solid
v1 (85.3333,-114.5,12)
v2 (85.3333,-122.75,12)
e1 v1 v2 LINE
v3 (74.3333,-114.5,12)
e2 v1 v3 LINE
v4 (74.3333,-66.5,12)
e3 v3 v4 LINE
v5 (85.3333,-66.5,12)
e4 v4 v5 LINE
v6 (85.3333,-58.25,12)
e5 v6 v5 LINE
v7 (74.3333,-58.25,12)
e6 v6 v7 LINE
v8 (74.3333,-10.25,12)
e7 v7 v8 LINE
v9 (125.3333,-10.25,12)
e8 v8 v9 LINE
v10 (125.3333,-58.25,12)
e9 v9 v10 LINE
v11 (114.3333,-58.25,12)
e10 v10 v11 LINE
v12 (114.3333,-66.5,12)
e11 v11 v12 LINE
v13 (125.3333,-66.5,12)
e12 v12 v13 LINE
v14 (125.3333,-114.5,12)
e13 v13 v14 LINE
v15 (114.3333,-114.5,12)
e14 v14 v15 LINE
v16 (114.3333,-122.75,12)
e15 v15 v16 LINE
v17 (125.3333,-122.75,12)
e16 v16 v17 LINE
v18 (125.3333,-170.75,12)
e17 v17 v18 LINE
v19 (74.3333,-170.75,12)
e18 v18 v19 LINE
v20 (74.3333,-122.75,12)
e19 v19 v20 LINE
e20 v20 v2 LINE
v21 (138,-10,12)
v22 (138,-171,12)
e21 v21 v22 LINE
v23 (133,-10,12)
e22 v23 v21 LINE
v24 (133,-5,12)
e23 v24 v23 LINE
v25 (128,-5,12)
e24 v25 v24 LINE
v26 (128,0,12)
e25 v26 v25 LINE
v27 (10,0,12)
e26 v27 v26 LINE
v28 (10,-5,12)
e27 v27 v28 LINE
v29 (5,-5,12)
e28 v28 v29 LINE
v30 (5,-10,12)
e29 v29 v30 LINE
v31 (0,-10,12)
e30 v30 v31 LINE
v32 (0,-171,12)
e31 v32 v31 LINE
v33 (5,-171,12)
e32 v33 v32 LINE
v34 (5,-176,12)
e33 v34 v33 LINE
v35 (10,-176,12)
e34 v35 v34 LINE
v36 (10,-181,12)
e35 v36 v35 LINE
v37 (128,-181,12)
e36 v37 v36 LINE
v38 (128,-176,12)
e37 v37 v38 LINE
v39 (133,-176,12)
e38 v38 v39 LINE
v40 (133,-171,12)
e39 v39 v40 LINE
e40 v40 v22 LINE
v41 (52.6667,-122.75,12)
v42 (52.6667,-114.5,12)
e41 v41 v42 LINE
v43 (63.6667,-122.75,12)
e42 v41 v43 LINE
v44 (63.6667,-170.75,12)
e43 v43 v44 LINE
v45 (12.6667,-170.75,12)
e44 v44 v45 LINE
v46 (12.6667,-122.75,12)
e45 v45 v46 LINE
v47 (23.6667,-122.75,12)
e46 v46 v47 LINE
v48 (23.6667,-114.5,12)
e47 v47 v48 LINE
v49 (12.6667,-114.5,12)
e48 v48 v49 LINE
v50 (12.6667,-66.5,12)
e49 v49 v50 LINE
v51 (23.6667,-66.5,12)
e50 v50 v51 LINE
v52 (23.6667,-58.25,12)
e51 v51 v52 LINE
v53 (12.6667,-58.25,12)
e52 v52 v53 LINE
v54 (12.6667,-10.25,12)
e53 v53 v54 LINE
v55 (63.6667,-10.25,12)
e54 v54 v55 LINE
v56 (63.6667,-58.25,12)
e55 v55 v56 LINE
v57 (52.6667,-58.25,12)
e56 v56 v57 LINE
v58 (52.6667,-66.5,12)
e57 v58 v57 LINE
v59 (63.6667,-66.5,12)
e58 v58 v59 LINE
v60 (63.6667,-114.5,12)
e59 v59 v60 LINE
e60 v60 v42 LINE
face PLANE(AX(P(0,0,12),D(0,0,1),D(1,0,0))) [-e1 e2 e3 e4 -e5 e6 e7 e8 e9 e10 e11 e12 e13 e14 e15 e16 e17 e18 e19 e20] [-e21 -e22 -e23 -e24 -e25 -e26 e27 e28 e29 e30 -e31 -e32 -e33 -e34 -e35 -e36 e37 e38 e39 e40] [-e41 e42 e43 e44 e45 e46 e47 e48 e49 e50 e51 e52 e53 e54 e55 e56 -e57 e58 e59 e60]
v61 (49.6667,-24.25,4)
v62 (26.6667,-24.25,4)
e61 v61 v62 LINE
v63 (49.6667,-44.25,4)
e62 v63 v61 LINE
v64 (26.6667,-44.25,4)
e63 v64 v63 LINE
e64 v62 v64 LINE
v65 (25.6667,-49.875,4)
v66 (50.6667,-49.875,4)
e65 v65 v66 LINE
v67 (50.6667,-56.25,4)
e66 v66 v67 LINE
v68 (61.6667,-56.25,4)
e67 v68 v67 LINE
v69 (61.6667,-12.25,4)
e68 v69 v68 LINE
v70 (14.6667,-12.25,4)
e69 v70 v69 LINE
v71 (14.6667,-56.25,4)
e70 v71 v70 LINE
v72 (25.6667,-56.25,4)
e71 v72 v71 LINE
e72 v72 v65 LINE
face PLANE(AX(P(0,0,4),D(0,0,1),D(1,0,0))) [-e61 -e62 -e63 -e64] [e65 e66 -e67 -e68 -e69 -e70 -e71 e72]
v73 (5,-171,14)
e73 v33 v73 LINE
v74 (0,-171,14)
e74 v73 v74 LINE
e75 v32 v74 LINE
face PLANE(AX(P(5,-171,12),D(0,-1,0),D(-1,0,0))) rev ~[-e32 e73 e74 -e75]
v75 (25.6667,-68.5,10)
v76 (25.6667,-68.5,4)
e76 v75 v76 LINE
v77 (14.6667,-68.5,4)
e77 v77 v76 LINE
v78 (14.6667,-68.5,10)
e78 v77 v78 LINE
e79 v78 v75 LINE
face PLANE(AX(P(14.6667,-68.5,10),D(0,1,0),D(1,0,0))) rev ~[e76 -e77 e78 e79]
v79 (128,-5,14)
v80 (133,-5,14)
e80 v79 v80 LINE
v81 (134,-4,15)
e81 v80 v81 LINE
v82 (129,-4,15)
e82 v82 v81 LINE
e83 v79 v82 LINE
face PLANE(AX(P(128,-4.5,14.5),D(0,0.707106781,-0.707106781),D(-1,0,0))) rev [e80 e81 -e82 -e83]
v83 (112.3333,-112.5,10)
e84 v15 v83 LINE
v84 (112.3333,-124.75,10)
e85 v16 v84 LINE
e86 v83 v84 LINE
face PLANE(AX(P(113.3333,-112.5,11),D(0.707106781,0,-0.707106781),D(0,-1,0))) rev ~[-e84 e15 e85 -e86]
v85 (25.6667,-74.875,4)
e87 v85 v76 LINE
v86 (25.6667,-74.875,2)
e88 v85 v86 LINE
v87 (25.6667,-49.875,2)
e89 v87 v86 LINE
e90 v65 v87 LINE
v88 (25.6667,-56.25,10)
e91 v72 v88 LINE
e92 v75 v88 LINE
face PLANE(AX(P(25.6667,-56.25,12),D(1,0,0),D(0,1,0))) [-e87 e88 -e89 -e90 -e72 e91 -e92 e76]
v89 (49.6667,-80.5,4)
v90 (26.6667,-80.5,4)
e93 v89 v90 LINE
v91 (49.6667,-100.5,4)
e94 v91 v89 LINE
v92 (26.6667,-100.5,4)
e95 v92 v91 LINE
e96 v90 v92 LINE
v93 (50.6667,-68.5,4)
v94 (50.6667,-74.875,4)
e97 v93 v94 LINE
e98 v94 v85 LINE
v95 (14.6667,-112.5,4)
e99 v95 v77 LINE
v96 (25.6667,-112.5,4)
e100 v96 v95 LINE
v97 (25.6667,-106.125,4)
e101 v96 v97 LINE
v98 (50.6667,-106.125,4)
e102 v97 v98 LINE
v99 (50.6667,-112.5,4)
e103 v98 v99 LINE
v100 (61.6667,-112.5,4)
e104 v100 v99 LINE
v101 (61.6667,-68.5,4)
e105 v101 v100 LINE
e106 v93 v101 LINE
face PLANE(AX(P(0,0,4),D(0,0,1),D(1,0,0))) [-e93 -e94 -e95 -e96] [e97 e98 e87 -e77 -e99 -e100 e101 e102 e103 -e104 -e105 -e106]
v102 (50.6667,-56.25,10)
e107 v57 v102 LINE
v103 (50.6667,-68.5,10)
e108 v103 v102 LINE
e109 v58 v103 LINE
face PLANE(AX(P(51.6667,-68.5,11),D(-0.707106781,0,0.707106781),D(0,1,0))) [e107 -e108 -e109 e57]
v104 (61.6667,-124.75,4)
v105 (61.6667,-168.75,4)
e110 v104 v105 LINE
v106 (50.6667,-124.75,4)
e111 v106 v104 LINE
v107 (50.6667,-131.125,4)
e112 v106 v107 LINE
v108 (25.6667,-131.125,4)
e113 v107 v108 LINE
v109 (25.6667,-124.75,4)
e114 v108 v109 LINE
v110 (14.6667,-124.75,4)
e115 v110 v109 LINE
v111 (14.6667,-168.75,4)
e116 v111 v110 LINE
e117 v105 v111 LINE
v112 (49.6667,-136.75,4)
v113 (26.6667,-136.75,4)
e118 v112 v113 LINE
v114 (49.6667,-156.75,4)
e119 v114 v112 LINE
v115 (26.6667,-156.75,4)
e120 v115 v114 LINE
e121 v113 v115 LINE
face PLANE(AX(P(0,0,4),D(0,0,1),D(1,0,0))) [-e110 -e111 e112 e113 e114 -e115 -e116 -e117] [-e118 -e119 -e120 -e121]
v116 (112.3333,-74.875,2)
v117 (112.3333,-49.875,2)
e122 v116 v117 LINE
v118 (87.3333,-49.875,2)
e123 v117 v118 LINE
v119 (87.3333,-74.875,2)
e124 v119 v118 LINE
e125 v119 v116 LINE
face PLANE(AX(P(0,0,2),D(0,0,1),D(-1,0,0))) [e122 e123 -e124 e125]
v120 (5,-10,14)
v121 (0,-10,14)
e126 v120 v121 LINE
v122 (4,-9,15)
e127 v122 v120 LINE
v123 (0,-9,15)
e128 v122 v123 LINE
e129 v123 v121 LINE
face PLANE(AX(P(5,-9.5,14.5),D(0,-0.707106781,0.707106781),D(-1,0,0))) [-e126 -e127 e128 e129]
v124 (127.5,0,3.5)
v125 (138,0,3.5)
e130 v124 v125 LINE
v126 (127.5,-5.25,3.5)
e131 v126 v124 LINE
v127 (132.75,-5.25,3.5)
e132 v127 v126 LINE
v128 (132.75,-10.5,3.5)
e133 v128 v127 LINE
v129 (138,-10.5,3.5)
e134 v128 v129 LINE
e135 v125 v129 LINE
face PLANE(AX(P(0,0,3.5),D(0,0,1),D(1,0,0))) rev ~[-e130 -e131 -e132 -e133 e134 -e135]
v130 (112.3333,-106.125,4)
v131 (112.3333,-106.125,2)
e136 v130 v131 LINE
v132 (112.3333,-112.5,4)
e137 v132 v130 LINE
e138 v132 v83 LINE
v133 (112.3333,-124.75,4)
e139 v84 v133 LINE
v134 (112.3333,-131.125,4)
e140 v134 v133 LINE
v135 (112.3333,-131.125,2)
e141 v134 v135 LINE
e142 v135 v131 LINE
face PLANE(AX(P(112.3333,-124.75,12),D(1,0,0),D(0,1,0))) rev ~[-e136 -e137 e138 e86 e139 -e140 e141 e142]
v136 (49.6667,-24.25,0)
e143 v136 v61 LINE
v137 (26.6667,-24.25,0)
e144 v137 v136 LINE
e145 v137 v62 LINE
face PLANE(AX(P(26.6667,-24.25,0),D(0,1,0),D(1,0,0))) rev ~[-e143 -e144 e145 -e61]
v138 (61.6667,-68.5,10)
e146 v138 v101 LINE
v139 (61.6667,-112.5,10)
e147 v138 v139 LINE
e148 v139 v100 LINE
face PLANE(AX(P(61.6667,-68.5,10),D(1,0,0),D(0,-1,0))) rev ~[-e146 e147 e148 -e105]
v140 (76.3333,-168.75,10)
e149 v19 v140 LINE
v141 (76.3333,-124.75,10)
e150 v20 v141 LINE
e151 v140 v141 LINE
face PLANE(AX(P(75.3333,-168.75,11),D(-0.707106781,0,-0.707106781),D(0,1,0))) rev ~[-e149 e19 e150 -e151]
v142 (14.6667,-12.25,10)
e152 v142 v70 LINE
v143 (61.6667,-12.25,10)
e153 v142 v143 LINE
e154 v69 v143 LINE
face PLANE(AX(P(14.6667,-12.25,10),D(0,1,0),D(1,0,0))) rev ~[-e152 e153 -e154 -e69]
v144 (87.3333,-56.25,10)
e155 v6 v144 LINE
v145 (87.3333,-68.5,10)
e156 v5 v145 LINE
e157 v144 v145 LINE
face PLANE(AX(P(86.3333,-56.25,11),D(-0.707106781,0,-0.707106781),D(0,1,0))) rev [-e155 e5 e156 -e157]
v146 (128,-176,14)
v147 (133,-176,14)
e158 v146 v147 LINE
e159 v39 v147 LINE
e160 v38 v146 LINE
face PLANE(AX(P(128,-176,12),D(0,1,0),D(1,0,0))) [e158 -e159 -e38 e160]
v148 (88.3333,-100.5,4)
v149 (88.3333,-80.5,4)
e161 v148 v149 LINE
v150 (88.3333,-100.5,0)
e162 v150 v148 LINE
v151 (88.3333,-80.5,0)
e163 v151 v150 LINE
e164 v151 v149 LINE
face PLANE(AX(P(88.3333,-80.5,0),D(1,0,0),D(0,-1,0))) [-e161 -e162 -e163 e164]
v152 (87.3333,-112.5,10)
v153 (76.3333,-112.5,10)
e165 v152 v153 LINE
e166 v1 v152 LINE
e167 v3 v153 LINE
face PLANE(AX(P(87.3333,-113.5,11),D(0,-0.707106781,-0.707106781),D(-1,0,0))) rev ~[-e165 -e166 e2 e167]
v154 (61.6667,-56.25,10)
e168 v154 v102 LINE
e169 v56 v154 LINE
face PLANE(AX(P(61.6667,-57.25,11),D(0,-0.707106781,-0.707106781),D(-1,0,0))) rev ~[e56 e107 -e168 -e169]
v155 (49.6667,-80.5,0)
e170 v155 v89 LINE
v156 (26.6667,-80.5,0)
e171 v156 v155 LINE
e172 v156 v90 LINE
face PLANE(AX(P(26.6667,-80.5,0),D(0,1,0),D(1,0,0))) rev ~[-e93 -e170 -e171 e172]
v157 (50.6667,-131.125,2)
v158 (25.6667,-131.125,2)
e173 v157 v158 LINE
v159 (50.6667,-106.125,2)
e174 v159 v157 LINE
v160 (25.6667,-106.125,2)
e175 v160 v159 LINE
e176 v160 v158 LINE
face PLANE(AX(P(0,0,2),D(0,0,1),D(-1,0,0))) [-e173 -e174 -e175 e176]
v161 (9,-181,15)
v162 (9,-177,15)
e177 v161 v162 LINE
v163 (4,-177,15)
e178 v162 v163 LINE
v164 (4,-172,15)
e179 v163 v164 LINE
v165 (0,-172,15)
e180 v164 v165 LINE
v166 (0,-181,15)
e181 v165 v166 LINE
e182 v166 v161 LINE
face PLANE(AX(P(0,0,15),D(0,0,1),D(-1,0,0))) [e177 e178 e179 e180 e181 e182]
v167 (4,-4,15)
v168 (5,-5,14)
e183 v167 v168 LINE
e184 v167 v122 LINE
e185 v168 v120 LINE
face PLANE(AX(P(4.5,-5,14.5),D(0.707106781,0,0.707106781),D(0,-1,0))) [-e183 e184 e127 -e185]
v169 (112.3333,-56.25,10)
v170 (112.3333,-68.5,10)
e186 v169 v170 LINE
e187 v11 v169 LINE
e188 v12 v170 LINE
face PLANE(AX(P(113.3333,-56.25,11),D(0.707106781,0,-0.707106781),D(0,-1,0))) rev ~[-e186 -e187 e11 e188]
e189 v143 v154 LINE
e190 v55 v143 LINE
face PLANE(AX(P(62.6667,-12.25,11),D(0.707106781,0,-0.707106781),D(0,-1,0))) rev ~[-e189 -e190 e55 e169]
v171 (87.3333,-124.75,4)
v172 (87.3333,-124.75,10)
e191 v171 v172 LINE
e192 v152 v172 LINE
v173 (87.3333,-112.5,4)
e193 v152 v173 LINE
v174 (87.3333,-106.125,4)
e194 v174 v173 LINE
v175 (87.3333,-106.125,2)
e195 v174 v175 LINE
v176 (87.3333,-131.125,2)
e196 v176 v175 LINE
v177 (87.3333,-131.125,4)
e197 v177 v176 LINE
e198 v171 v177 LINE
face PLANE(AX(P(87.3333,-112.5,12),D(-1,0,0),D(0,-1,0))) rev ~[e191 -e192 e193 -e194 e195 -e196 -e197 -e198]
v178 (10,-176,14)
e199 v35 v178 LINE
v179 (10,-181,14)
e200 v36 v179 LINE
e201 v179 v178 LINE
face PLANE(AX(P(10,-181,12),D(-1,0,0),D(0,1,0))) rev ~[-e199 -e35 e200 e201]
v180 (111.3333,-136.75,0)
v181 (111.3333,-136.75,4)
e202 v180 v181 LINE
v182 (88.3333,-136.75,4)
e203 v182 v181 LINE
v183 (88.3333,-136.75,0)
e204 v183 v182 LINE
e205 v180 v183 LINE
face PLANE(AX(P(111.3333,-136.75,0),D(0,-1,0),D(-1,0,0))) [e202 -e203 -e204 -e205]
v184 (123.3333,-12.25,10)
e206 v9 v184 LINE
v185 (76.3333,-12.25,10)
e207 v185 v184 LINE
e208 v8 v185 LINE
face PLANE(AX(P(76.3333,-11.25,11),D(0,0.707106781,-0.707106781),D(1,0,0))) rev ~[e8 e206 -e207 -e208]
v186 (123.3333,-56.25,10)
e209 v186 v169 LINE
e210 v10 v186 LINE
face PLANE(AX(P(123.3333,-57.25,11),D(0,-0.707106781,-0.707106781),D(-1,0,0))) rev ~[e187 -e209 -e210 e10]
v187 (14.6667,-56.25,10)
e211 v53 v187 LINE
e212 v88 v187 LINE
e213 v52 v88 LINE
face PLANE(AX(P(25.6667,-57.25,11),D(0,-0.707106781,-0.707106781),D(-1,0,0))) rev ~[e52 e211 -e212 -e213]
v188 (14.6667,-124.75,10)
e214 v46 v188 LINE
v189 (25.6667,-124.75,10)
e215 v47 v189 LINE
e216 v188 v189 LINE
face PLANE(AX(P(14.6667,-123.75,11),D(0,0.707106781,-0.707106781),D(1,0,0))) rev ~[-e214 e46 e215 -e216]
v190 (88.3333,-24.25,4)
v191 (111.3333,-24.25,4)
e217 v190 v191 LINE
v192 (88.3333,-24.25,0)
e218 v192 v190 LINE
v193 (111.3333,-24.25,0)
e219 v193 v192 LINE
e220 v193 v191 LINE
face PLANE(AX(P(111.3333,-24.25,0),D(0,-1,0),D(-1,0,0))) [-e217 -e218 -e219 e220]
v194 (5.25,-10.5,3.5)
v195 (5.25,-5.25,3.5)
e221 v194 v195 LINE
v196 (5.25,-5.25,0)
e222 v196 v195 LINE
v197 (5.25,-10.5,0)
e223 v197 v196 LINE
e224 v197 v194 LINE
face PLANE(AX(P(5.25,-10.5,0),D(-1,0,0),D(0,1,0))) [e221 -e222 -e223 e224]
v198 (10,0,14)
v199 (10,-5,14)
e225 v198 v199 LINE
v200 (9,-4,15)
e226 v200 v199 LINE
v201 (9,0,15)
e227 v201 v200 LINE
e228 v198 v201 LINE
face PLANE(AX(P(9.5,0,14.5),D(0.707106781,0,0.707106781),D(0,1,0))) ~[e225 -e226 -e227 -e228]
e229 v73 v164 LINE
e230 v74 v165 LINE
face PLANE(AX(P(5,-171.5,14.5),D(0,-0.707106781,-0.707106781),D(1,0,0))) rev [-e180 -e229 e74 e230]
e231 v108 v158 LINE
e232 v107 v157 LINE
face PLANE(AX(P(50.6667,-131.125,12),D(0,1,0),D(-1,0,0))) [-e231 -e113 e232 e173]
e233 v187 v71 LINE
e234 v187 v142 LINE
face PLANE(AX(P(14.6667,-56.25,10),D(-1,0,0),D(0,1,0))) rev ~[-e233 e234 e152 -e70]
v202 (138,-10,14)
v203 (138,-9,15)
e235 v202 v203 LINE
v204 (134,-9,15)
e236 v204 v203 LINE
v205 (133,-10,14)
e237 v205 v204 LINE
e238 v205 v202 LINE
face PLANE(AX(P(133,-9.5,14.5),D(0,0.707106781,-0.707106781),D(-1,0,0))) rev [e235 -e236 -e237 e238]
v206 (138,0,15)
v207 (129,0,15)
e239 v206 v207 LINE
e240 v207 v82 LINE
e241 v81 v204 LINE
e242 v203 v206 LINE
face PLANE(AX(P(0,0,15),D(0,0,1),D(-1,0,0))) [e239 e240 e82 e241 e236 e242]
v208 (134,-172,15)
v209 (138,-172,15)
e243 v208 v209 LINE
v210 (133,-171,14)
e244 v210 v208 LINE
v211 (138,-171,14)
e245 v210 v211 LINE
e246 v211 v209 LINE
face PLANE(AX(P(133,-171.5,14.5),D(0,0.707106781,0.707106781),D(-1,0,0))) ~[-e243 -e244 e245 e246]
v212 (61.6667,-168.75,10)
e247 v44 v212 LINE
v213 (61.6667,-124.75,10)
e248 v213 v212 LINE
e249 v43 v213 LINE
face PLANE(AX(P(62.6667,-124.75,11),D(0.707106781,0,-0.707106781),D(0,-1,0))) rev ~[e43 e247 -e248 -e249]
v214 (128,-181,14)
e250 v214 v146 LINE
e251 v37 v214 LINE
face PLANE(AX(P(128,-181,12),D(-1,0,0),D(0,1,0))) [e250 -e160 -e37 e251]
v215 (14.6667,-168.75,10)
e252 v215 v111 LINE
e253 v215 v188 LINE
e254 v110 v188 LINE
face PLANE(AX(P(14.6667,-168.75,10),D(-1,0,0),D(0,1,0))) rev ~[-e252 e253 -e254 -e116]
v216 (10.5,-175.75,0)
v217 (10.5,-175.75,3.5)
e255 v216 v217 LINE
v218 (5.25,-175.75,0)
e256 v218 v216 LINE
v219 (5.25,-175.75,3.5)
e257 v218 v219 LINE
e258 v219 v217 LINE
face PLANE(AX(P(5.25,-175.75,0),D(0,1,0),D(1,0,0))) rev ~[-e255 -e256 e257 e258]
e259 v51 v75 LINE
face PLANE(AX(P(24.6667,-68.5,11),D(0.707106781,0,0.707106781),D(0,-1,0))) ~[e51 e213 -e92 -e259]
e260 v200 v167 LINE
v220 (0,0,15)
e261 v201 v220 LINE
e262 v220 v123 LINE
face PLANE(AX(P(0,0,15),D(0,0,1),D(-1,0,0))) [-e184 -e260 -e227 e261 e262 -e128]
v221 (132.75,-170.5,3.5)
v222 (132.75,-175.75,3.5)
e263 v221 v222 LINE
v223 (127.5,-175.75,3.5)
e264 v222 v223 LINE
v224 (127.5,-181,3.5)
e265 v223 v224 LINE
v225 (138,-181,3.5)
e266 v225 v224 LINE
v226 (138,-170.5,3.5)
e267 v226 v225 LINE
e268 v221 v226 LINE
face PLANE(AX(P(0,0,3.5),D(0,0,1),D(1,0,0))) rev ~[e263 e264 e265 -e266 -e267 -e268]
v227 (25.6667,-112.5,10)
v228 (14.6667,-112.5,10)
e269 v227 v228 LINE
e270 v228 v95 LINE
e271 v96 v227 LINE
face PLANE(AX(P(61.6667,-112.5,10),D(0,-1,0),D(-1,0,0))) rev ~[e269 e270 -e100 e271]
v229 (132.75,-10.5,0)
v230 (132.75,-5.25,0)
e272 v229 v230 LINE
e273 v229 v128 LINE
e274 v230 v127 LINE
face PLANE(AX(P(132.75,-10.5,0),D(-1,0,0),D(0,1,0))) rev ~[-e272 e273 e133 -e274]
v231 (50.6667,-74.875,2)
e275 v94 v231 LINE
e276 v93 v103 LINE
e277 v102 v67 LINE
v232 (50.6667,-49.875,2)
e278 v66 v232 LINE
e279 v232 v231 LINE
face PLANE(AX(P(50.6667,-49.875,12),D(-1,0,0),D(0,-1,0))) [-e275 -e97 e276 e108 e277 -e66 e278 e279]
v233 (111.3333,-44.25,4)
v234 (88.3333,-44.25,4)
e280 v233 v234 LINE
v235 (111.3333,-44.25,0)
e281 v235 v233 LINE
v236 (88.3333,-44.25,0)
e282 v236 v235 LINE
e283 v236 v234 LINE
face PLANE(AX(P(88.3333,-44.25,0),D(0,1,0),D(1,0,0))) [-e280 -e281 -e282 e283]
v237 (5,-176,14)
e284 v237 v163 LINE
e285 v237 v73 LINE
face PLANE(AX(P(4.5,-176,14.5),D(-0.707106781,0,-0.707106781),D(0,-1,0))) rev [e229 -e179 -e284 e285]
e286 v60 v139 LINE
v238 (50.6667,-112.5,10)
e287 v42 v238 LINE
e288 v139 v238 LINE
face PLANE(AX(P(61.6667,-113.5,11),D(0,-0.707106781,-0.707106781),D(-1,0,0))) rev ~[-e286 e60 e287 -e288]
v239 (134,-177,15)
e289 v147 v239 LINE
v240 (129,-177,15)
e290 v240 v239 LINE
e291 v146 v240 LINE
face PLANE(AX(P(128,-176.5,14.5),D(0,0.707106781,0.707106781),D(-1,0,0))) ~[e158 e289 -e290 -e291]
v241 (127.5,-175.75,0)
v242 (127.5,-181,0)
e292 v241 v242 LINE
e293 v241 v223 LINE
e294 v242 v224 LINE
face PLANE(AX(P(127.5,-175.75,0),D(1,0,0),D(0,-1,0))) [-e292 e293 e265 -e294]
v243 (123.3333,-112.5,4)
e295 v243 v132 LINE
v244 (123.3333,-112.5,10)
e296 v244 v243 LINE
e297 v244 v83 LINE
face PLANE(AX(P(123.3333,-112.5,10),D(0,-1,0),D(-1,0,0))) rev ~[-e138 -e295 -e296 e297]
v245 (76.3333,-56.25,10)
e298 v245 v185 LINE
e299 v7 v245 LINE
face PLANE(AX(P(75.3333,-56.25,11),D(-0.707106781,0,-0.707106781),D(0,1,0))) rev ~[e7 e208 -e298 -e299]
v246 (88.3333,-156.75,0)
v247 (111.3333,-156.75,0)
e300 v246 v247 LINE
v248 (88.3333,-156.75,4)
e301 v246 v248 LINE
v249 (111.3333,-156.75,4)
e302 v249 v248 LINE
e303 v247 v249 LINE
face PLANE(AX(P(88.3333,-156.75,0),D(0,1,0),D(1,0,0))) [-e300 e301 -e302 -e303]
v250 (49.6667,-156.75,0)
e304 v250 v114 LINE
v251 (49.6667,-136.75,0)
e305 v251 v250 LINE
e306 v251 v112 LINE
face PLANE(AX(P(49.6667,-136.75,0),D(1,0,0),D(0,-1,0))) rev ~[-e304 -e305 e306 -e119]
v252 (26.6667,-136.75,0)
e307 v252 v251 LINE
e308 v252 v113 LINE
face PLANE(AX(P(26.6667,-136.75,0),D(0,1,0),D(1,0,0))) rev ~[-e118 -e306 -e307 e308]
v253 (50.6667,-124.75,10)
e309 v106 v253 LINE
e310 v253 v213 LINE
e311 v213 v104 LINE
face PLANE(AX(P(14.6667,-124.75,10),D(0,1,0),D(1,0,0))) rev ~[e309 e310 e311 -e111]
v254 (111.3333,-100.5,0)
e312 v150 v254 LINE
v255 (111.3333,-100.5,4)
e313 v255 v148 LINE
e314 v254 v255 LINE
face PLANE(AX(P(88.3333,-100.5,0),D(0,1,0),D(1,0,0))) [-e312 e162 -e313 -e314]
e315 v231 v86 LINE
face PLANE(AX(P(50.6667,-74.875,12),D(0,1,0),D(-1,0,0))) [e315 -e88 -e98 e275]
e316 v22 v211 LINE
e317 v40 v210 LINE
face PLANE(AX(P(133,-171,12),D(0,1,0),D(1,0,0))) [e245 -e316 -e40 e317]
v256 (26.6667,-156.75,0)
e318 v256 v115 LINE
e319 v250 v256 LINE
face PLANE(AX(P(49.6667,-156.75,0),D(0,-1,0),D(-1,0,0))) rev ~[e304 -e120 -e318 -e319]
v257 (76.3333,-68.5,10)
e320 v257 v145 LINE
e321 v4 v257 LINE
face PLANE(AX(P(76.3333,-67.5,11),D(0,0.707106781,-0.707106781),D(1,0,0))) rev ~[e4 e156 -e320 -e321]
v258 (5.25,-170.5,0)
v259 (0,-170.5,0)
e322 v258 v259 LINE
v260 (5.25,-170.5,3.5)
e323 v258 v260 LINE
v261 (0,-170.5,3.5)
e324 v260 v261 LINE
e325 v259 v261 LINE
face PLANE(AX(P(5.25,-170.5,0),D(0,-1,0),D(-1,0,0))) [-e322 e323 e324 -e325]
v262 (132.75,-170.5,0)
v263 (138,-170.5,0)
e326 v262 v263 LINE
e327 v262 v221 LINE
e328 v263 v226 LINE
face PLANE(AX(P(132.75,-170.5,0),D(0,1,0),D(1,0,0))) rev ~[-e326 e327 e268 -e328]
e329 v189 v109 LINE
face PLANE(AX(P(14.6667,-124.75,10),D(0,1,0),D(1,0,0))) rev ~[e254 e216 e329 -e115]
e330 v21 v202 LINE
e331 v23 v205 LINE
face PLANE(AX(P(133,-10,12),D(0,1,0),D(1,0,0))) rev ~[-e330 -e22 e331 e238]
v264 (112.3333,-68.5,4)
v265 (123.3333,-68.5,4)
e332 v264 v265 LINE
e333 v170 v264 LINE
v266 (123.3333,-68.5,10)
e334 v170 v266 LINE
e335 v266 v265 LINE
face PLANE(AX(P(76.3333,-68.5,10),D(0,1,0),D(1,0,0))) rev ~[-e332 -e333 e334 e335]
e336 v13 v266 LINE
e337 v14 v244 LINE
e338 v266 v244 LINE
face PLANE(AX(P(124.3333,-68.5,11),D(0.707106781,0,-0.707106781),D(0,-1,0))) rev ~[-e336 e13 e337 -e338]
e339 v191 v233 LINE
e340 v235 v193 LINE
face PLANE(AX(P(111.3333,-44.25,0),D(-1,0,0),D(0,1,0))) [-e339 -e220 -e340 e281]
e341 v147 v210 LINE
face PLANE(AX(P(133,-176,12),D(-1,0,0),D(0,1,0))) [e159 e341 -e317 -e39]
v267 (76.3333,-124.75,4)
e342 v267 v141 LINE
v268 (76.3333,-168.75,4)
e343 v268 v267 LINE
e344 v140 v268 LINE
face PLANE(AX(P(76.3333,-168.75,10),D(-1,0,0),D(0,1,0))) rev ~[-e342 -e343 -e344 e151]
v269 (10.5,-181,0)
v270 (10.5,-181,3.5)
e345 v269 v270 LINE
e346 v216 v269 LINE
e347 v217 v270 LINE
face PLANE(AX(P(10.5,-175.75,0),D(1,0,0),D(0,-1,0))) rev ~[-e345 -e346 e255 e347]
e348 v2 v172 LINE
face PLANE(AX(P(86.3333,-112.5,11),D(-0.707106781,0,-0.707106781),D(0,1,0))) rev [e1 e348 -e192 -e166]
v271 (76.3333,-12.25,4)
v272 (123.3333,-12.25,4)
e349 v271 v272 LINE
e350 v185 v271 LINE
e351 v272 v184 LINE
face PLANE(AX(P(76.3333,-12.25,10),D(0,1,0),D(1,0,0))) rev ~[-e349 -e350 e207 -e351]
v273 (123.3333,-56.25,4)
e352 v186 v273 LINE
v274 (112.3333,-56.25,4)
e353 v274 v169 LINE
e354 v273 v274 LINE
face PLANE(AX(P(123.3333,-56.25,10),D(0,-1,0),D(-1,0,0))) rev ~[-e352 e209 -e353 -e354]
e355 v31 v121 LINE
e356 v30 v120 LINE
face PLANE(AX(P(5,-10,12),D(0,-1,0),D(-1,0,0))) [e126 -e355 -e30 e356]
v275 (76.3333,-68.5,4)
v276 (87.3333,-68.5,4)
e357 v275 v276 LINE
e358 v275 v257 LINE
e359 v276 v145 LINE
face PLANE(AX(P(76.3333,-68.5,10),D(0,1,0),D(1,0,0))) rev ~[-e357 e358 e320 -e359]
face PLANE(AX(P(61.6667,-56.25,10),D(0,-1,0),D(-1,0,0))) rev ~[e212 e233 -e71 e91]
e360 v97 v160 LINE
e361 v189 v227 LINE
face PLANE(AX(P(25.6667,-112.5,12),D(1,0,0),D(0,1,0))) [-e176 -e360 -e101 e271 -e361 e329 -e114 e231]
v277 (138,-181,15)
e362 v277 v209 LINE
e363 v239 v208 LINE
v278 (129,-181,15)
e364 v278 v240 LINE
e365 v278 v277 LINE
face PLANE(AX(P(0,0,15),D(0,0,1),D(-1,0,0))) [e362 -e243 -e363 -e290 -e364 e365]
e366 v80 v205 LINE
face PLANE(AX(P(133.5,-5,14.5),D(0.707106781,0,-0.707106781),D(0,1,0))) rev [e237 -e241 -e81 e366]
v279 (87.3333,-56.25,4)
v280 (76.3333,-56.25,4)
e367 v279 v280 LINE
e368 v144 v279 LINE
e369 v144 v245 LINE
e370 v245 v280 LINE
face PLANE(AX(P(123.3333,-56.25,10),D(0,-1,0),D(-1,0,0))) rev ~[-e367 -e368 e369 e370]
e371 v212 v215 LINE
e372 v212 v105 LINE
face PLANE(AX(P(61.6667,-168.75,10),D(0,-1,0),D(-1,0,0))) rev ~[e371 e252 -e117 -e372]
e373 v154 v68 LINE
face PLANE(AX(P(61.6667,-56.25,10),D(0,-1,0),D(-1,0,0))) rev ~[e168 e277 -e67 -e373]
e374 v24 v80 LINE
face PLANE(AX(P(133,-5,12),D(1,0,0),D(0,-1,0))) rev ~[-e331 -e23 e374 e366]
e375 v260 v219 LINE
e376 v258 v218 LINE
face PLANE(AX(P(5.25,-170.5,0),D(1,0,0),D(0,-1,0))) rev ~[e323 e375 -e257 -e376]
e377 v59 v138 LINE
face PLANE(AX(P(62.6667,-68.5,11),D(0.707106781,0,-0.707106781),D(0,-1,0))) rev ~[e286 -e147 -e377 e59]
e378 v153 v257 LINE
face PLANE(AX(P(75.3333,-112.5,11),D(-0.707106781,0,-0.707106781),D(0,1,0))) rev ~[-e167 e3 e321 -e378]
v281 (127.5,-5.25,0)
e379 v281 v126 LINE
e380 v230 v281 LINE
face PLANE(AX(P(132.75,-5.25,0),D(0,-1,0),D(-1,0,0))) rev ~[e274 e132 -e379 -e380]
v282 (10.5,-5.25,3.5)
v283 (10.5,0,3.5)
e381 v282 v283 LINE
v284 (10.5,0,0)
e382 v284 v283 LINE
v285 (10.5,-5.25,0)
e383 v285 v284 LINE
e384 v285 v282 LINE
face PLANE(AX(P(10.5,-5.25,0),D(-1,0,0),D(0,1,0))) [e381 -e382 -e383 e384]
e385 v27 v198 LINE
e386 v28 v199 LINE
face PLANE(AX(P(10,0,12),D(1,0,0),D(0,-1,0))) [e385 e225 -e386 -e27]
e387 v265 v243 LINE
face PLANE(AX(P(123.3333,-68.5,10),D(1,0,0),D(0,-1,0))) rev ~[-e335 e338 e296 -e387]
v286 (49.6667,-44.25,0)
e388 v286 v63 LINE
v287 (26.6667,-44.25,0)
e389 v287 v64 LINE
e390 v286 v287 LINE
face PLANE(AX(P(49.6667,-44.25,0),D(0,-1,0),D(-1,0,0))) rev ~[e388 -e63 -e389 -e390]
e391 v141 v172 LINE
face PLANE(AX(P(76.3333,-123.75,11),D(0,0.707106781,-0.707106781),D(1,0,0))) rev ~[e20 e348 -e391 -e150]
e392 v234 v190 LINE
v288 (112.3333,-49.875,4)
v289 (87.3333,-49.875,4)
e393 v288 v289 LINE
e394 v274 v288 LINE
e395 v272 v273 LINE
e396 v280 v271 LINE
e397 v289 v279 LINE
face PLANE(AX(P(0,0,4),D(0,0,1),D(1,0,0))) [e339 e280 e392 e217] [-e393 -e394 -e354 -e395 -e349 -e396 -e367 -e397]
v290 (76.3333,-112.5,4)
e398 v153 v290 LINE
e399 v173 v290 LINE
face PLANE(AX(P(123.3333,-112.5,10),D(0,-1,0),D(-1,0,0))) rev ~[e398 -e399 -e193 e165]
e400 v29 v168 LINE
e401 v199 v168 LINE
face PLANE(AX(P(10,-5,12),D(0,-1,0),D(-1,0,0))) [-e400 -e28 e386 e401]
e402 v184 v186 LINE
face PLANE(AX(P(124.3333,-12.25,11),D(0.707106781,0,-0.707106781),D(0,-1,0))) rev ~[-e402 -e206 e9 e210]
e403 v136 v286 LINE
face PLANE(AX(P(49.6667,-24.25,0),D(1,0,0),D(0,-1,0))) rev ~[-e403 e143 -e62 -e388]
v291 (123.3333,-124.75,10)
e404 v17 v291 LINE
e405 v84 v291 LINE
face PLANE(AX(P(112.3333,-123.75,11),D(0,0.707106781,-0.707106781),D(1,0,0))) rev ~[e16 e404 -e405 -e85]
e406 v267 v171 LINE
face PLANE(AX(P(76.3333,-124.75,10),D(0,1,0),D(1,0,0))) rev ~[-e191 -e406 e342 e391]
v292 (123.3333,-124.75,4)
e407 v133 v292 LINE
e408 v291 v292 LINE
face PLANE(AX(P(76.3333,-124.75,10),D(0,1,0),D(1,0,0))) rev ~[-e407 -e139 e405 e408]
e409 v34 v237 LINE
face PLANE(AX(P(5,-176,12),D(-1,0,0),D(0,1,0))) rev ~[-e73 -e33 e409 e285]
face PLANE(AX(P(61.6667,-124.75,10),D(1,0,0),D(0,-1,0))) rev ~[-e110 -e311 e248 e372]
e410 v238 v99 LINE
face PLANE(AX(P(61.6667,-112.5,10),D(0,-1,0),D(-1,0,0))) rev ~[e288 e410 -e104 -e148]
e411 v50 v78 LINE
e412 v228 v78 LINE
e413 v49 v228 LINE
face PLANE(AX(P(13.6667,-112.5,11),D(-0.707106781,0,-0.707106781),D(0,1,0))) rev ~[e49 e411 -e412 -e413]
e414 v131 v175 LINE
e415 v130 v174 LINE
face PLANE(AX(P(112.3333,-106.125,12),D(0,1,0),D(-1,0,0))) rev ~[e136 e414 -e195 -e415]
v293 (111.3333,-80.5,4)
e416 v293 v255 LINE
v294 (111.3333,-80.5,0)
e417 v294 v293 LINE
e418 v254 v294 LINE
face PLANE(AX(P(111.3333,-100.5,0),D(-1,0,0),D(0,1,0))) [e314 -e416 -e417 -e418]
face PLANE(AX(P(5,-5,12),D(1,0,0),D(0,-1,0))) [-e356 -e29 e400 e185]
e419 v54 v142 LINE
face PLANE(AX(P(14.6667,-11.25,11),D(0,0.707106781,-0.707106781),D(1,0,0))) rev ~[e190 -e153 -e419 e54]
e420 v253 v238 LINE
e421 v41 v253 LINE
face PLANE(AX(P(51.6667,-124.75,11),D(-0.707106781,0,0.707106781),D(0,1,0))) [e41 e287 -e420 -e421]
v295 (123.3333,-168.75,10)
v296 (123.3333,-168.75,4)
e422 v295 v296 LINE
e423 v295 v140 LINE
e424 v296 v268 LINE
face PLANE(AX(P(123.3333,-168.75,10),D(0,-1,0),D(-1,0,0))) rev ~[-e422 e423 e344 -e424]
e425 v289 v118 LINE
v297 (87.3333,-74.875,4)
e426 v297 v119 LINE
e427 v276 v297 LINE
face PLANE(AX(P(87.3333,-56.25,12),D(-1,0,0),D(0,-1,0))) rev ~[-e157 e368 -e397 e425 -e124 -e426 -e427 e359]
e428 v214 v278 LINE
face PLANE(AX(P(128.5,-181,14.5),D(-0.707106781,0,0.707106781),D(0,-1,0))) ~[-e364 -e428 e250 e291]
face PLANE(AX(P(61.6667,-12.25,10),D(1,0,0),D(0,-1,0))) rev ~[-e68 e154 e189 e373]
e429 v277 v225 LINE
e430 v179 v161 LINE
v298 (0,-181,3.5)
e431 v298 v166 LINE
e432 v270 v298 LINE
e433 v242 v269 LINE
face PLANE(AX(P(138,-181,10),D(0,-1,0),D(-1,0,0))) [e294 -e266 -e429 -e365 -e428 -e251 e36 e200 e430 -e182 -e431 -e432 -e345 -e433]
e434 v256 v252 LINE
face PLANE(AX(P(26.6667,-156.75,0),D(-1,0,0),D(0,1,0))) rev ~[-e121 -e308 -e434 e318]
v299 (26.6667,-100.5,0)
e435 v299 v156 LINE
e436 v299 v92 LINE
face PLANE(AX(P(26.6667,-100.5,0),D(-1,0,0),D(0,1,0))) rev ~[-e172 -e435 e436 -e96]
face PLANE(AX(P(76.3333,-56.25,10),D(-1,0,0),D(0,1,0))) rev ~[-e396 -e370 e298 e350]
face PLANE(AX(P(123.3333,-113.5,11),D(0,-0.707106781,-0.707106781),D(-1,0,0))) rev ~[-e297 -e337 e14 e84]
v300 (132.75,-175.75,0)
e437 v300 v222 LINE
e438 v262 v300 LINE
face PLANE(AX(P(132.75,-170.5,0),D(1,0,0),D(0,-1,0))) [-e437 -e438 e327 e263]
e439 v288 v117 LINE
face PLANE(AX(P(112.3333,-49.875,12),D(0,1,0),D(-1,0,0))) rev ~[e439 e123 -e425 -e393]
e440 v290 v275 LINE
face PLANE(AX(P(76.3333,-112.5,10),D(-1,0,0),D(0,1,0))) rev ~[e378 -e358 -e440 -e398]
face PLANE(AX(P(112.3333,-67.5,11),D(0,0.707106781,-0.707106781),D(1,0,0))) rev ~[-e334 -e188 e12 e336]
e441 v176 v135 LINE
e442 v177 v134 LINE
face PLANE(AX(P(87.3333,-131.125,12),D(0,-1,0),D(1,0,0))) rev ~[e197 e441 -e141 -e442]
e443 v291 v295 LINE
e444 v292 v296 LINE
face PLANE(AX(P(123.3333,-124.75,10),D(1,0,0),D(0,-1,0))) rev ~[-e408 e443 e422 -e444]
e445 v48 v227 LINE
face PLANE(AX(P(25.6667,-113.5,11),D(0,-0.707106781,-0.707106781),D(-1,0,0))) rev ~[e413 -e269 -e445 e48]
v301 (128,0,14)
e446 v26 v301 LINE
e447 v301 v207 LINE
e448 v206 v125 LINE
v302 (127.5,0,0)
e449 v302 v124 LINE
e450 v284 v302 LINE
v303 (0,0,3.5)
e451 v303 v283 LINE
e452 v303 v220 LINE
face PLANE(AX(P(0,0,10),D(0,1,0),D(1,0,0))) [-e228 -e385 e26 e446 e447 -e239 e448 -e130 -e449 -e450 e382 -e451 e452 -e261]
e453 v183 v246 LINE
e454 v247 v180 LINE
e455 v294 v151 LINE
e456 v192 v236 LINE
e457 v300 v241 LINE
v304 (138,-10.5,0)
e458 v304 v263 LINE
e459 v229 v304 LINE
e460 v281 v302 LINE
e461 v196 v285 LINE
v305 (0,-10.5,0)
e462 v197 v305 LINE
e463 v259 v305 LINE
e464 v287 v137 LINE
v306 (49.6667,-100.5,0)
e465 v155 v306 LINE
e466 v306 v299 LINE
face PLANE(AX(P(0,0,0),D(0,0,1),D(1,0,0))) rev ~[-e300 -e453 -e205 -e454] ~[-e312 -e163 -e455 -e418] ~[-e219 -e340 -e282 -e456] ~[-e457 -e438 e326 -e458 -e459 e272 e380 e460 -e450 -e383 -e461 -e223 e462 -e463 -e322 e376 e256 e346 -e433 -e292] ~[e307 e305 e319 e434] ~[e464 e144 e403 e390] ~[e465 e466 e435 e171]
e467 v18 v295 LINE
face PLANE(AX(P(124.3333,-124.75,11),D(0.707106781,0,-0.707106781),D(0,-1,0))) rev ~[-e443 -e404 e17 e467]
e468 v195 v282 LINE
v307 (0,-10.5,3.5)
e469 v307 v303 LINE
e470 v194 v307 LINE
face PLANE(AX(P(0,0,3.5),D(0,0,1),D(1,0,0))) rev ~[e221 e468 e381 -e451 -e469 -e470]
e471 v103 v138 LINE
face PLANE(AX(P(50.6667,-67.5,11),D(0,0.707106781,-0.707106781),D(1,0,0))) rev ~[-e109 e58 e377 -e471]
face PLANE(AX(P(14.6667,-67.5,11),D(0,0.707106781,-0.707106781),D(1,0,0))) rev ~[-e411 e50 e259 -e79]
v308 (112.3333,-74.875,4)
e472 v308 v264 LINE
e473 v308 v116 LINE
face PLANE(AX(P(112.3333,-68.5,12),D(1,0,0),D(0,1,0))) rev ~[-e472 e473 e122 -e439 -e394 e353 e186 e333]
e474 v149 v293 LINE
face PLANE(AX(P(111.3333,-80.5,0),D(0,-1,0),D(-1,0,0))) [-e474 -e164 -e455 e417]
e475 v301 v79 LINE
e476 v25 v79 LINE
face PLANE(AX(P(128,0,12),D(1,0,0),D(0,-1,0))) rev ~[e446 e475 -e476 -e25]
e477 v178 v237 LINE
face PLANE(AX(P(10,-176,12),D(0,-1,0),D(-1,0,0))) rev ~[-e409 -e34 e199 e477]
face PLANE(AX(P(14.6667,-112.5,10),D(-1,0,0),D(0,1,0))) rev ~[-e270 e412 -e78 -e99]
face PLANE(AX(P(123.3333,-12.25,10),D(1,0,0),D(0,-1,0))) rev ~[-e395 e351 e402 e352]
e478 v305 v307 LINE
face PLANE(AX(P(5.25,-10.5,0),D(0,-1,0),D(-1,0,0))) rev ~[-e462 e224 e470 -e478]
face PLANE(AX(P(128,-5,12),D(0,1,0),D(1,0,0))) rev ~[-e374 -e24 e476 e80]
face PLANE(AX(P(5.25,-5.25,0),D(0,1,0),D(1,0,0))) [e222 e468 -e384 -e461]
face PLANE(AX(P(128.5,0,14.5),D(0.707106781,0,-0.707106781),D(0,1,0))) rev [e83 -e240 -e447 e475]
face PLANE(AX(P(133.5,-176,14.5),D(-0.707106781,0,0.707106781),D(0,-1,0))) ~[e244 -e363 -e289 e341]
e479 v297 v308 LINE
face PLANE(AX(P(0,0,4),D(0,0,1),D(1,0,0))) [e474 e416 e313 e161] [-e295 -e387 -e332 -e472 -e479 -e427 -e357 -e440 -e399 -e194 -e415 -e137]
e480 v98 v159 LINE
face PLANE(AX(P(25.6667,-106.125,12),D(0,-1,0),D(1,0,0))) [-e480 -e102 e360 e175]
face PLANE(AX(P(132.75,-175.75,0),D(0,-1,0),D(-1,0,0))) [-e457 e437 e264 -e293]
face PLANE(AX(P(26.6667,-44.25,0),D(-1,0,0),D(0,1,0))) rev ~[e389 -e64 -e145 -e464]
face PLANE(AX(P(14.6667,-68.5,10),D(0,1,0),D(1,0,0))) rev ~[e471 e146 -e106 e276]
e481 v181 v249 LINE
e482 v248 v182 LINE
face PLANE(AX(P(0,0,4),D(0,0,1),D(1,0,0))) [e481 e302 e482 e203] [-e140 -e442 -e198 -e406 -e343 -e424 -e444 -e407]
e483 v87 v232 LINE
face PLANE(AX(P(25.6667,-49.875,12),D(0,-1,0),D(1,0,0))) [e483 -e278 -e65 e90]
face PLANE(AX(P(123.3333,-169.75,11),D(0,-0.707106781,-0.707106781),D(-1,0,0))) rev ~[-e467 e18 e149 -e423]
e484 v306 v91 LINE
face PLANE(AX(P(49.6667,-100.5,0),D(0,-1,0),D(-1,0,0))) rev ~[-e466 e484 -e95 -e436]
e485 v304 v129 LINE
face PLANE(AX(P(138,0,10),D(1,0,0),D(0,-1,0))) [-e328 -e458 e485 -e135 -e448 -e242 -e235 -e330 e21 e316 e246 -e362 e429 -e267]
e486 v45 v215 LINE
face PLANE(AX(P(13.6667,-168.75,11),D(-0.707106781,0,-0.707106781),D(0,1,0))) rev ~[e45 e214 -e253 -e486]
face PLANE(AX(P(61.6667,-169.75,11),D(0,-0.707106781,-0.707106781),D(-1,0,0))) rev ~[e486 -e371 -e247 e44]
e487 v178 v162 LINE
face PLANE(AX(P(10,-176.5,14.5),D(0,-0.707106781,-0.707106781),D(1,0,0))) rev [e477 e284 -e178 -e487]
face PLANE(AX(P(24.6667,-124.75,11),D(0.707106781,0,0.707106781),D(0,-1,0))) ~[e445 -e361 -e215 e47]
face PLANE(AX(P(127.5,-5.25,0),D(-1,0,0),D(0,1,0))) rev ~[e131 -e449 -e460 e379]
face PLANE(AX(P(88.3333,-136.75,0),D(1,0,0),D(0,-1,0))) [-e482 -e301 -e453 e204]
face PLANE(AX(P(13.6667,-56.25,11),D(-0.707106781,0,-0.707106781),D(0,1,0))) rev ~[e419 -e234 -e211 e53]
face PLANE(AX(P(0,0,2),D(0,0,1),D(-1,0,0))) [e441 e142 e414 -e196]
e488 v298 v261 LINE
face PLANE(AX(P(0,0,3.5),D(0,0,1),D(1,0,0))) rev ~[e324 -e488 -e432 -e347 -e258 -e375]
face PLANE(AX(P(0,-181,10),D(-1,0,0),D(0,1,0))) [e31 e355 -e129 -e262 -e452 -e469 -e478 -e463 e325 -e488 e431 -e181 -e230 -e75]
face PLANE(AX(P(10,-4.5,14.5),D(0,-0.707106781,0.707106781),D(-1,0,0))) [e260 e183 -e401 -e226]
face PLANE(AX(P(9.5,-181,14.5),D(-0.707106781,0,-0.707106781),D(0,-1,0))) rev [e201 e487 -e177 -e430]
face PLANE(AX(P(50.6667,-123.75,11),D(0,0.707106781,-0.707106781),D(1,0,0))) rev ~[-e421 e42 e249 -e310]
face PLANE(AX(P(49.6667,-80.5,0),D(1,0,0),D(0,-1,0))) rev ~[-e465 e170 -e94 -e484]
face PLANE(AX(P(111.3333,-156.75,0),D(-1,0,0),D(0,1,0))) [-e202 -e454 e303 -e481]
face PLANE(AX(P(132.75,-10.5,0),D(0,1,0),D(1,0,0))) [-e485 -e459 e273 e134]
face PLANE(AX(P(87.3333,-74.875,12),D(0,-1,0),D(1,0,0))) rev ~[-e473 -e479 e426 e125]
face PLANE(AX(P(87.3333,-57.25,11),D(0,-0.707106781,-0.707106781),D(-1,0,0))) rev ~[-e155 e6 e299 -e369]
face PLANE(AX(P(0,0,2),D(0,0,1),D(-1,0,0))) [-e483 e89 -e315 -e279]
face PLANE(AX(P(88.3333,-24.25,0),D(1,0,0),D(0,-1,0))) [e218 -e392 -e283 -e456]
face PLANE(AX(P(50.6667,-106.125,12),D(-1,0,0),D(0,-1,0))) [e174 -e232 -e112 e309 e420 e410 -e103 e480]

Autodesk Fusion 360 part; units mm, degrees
sketch "Esquisse1" plane through (0, 0, 0) normal (0, 0, 1) x (1, 0, 0)
  line L0 (0, 0) -> (138, 0)
  line L1 (138, 0) -> (138, -181)
  line L2 (138, -181) -> (0, -181)
  line L3 (0, -181) -> (0, 0)
  line L4 (61.6667, -12.25) -> (61.6667, -56.25)
  line L5 (61.6667, -56.25) -> (14.6667, -56.25)
  line L6 (14.6667, -56.25) -> (14.6667, -12.25)
  line L7 (14.6667, -12.25) -> (61.6667, -12.25)
  line L8 (123.3333, -12.25) -> (123.3333, -56.25)
  line L9 (76.3333, -56.25) -> (76.3333, -12.25)
  line L10 (76.3333, -12.25) -> (123.3333, -12.25)
  line L11 (123.3333, -56.25) -> (76.3333, -56.25)
  line L12 (14.6667, -68.5) -> (61.6667, -68.5)
  line L13 (14.6667, -112.5) -> (14.6667, -68.5)
  line L14 (61.6667, -112.5) -> (14.6667, -112.5)
  line L15 (61.6667, -68.5) -> (61.6667, -112.5)
  line L16 (76.3333, -68.5) -> (123.3333, -68.5)
  line L17 (123.3333, -68.5) -> (123.3333, -112.5)
  line L18 (76.3333, -112.5) -> (76.3333, -68.5)
  line L19 (123.3333, -112.5) -> (76.3333, -112.5)
  line L20 (14.6667, -124.75) -> (61.6667, -124.75)
  line L21 (14.6667, -168.75) -> (14.6667, -124.75)
  line L22 (61.6667, -168.75) -> (14.6667, -168.75)
  line L23 (61.6667, -124.75) -> (61.6667, -168.75)
  line L24 (76.3333, -124.75) -> (123.3333, -124.75)
  line L25 (123.3333, -124.75) -> (123.3333, -168.75)
  line L26 (76.3333, -168.75) -> (76.3333, -124.75)
  line L27 (123.3333, -168.75) -> (76.3333, -168.75)
  dimension "d1" = 138
  dimension "d2" = 181
  dimension "d3" = 44
  dimension "d4" = 47
  dimension "d5" = 44
  dimension "d6" = 47
  dimension "d7" = 12.25
  dimension "d8" = 14.6667
  dimension "d9" = 12.25
  dimension "d10" = 14.6667
  dimension "d11" = 44
  dimension "d12" = 47
  dimension "d13" = 44
  dimension "d14" = 47
  dimension "d15" = 44
  dimension "d16" = 47
  dimension "d17" = 44
  dimension "d18" = 47
  dimension "d19" = 14.6667
  dimension "d20" = 14.6667
  dimension "d21" = 14.6667
  dimension "d22" = 14.6667
  dimension "d23" = 12.25
  dimension "d24" = 12.25
  dimension "d25" = 12.25
  dimension "d26" = 12.25
extrude "Extrusion1" add sketch "Esquisse1" along normal blind 4 contours L4 L5 L6 L7 | L8 L9 L10 L11 | L12 L13 L14 L15 | L16 L17 L18 L19 | L20 L21 L22 L23 | L24 L25 L26 L27 makes body 1 at (46, -97.8333, 0) makes body 2 at (46, -26.9167, 0) makes body 3 at (30.3333, -154.0833, 0) makes body 4 at (107.6667, -97.8333, 0) makes body 5 at (107.6667, -41.5833, 0) makes body 6 at (107.6667, -154.0833, 0)
extrude "Extrusion2" add sketch "Esquisse1" along normal blind 10 bodies 1 2 3 4 5 6
sketch "Esquisse2" plane through (0, 0, 0) normal (0, 0, 1) x (1, 0, 0)
  line L0 (0, 0) -> (138, 0)
  line L1 (138, -181) -> (0, -181)
  line L2 (0, -181) -> (0, 0)
  line L3 (138, 0) -> (138, -181)
  line L4 (14.6667, -12.25) -> (61.6667, -12.25)
  line L5 (61.6667, -56.25) -> (14.6667, -56.25)
  line L6 (14.6667, -56.25) -> (14.6667, -12.25)
  line L7 (61.6667, -12.25) -> (61.6667, -56.25)
  line L8 (26.6667, -24.25) -> (49.6667, -24.25)
  line L9 (49.6667, -24.25) -> (49.6667, -44.25)
  line L10 (49.6667, -44.25) -> (26.6667, -44.25)
  line L11 (26.6667, -44.25) -> (26.6667, -24.25)
  line L12 (69, 0) -> (69, -181)
  line L13 (26.6667, -80.5) -> (49.6667, -80.5)
  line L14 (49.6667, -80.5) -> (49.6667, -100.5)
  line L15 (49.6667, -100.5) -> (26.6667, -100.5)
  line L16 (26.6667, -100.5) -> (26.6667, -80.5)
  line L17 (26.6667, -136.75) -> (49.6667, -136.75)
  line L18 (49.6667, -136.75) -> (49.6667, -156.75)
  line L19 (49.6667, -156.75) -> (26.6667, -156.75)
  line L20 (26.6667, -156.75) -> (26.6667, -136.75)
  line L21 (14.6667, -68.5) -> (61.6667, -68.5)
  line L22 (14.6667, -112.5) -> (14.6667, -68.5)
  line L23 (61.6667, -112.5) -> (14.6667, -112.5)
  line L24 (61.6667, -68.5) -> (61.6667, -112.5)
  line L25 (14.6667, -124.75) -> (61.6667, -124.75)
  line L26 (14.6667, -168.75) -> (14.6667, -124.75)
  line L27 (61.6667, -168.75) -> (14.6667, -168.75)
  line L28 (61.6667, -124.75) -> (61.6667, -168.75)
  line L29 (111.3333, -24.25) -> (88.3333, -24.25)
  line L30 (111.3333, -44.25) -> (111.3333, -24.25)
  line L31 (88.3333, -44.25) -> (111.3333, -44.25)
  line L32 (88.3333, -24.25) -> (88.3333, -44.25)
  line L33 (111.3333, -80.5) -> (88.3333, -80.5)
  line L34 (111.3333, -100.5) -> (111.3333, -80.5)
  line L35 (88.3333, -100.5) -> (111.3333, -100.5)
  line L36 (88.3333, -80.5) -> (88.3333, -100.5)
  line L37 (111.3333, -136.75) -> (88.3333, -136.75)
  line L38 (111.3333, -156.75) -> (111.3333, -136.75)
  line L39 (88.3333, -156.75) -> (111.3333, -156.75)
  line L40 (88.3333, -136.75) -> (88.3333, -156.75)
  dimension "d37" = 12
  dimension "d38" = 12
  dimension "d39" = 12
  dimension "d40" = 12
  dimension "d41" = 12
  dimension "d42" = 12
  dimension "d43" = 12
  dimension "d44" = 12
  dimension "d45" = 12
  dimension "d46" = 12
  dimension "d47" = 12
  dimension "d48" = 12
extrude "Extrusion3" add 1 faces at (4.8889, -97.8333, 10) along direction (0, 0, 1) blind 2 on bodies 1 bodies 1
extrude "Extrusion4" cut sketch "Esquisse2" along normal blind 5 contours L8 L9 L10 L11 bodies 1
extrude "Extrusion5" cut sketch "Esquisse2" along normal blind 5 contours L13 L14 L15 L16 | L17 L18 L19 L20 | L29 L30 L31 L32 | L33 L34 L35 L36 | L37 L38 L39 L40 bodies 1
sketch "Esquisse3" plane through (0, 0, 0) normal (0, 0, 1) x (1, 0, 0)
  line L0 (5.25, -5.25) -> (10.5, -5.25)
  line L1 (5.25, -10.5) -> (0, -10.5)
  line L2 (10.5, -5.25) -> (10.5, 0)
  line L3 (0.1008, 0) -> (10.5, 0)
  line L4 (5.25, -10.5) -> (5.25, -5.25)
  line L5 (0, -0.1279) -> (0, -10.5)
  line L6 (0, 0) -> (0, -181)
  line L7 (0, 0) -> (138, 0)
  line L8 (69, -0.1066) -> (69, -181)
  line L9 (0, -181) -> (0, 0)
  line L10 (138, 0) -> (138, -181)
  line L11 (0, -90.5) -> (138, -90.5)
  line L12 (138, -181) -> (0, -181)
  line L13 (127.5, -5.25) -> (127.5, 0)
  line L14 (137.8992, 0) -> (127.5, 0)
  line L15 (138, -0.1279) -> (138, -10.5)
  line L16 (132.75, -10.5) -> (138, -10.5)
  line L17 (132.75, -10.5) -> (132.75, -5.25)
  line L18 (132.75, -5.25) -> (127.5, -5.25)
  line L19 (10.5, -175.75) -> (10.5, -181)
  line L20 (0.1008, -181) -> (10.5, -181)
  line L21 (0, -180.8721) -> (0, -170.5)
  line L22 (5.25, -170.5) -> (0, -170.5)
  line L23 (5.25, -175.75) -> (10.5, -175.75)
  line L24 (5.25, -170.5) -> (5.25, -175.75)
  line L25 (127.5, -175.75) -> (127.5, -181)
  line L26 (137.8992, -181) -> (127.5, -181)
  line L27 (138, -180.8721) -> (138, -170.5)
  line L28 (132.75, -175.75) -> (127.5, -175.75)
  line L29 (132.75, -170.5) -> (132.75, -175.75)
  line L30 (132.75, -170.5) -> (138, -170.5)
  point P0 (0, -0.1279)
  point P1 (0, -0.1066)
  point P2 (69, -0.1066)
  dimension "d67" = 10.5
  dimension "d68" = 10.5
  dimension "d69" = 5.25
  dimension "d70" = 5.25
  dimension "d71" = 69
  dimension "d72" = 138
  dimension "d73" = 181
  dimension "d74" = 90.5
extrude "Extrusion8" cut sketch "Esquisse3" along normal blind 3.5 contours L0 L1 L2 L3 L4 L5 L6 L7 L9 | L7 L10 L13 L14 L15 L16 L17 L18 | L6 L9 L12 L19 L20 L21 L22 L23 L24 | L10 L12 L25 L26 L27 L28 L29 L30 bodies 1
sketch "Esquisse4" plane through (0, 0, 12) normal (0, 0, 1) x (-1, 0, 0)
  line L0 (-14.6667, 56.25) -> (-14.6667, 12.25)
  line L1 (-14.6667, 12.25) -> (-61.6667, 12.25)
  line L2 (-61.6667, 12.25) -> (-61.6667, 56.25)
  line L3 (-61.6667, 56.25) -> (-14.6667, 56.25)
  line L4 (-123.3333, 12.25) -> (-123.3333, 56.25)
  line L5 (-123.3333, 56.25) -> (-76.3333, 56.25)
  line L6 (-76.3333, 56.25) -> (-76.3333, 12.25)
  line L7 (-76.3333, 12.25) -> (-123.3333, 12.25)
  line L8 (-14.6667, 68.5) -> (-61.6667, 68.5)
  line L9 (-61.6667, 68.5) -> (-61.6667, 112.5)
  line L10 (-61.6667, 112.5) -> (-14.6667, 112.5)
  line L11 (-14.6667, 112.5) -> (-14.6667, 68.5)
  line L12 (-123.3333, 68.5) -> (-123.3333, 112.5)
  line L13 (-123.3333, 112.5) -> (-76.3333, 112.5)
  line L14 (-76.3333, 112.5) -> (-76.3333, 68.5)
  line L15 (-76.3333, 68.5) -> (-123.3333, 68.5)
  line L16 (-14.6667, 124.75) -> (-61.6667, 124.75)
  line L17 (-61.6667, 124.75) -> (-61.6667, 168.75)
  line L18 (-61.6667, 168.75) -> (-14.6667, 168.75)
  line L19 (-14.6667, 168.75) -> (-14.6667, 124.75)
  line L20 (-123.3333, 124.75) -> (-123.3333, 168.75)
  line L21 (-123.3333, 168.75) -> (-76.3333, 168.75)
  line L22 (-76.3333, 168.75) -> (-76.3333, 124.75)
  line L23 (-76.3333, 124.75) -> (-123.3333, 124.75)
  line L24 (0, 181) -> (-138, 181)
  line L25 (-138, 181) -> (-138, 0)
  line L26 (-138, 0) -> (0, 0)
  line L27 (0, 0) -> (0, 181)
  line L28 (-25.6667, 49.875) -> (-50.6667, 49.875)
  line L29 (-50.6667, 49.875) -> (-50.6667, 74.875)
  line L30 (-50.6667, 74.875) -> (-25.6667, 74.875)
  line L31 (-25.6667, 74.875) -> (-25.6667, 49.875)
  line L32 (-69, 0) -> (-69, 181)
  line L33 (-25.6667, 106.125) -> (-50.6667, 106.125)
  line L34 (-50.6667, 106.125) -> (-50.6667, 131.125)
  line L35 (-50.6667, 131.125) -> (-25.6667, 131.125)
  line L36 (-25.6667, 131.125) -> (-25.6667, 106.125)
  line L37 (-112.3333, 49.875) -> (-87.3333, 49.875)
  line L38 (-112.3333, 74.875) -> (-112.3333, 49.875)
  line L39 (-87.3333, 74.875) -> (-112.3333, 74.875)
  line L40 (-87.3333, 49.875) -> (-87.3333, 74.875)
  line L41 (-112.3333, 106.125) -> (-87.3333, 106.125)
  line L42 (-112.3333, 131.125) -> (-112.3333, 106.125)
  line L43 (-87.3333, 131.125) -> (-112.3333, 131.125)
  line L44 (-87.3333, 106.125) -> (-87.3333, 131.125)
  dimension "d55" = 25
  dimension "d56" = 25
  dimension "d57" = 6.375
  dimension "d58" = 12.25
  dimension "d59" = 11
  dimension "d60" = 47
  dimension "d61" = 25
  dimension "d62" = 25
  dimension "d63" = 6.375
  dimension "d64" = 11
extrude "Extrusion7" cut sketch "Esquisse4" against normal blind 10 contours L3 L28 L29 L31 | L3 L8 L29 L31 | L8 L29 L30 L31 | L10 L33 L34 L36 | L10 L16 L34 L36 | L16 L34 L35 L36 | L5 L15 L38 L40 | L5 L37 L38 L40 | L15 L38 L39 L40 | L13 L23 L42 L44 | L13 L41 L42 L44 | L23 L42 L43 L44 bodies 1
sketch "Esquisse5" plane through (0, 0, 12) normal (0, 0, 1) x (-1, 0, 0)
  line L0 (-112.3333, 56.25) -> (-112.3333, 68.5)
  line L1 (-112.3333, 68.5) -> (-123.3333, 68.5)
  line L2 (-123.3333, 68.5) -> (-123.3333, 112.5)
  line L3 (-123.3333, 112.5) -> (-112.3333, 112.5)
  line L4 (-112.3333, 112.5) -> (-112.3333, 124.75)
  line L5 (-112.3333, 124.75) -> (-123.3333, 124.75)
  line L6 (-123.3333, 124.75) -> (-123.3333, 168.75)
  line L7 (-123.3333, 168.75) -> (-76.3333, 168.75)
  line L8 (-76.3333, 168.75) -> (-76.3333, 124.75)
  line L9 (-76.3333, 124.75) -> (-87.3333, 124.75)
  line L10 (-87.3333, 124.75) -> (-87.3333, 112.5)
  line L11 (-87.3333, 112.5) -> (-76.3333, 112.5)
  line L12 (-76.3333, 112.5) -> (-76.3333, 68.5)
  line L13 (-76.3333, 68.5) -> (-87.3333, 68.5)
  line L14 (-87.3333, 68.5) -> (-87.3333, 56.25)
  line L15 (-87.3333, 56.25) -> (-76.3333, 56.25)
  line L16 (-76.3333, 56.25) -> (-76.3333, 12.25)
  line L17 (-76.3333, 12.25) -> (-123.3333, 12.25)
  line L18 (-123.3333, 12.25) -> (-123.3333, 56.25)
  line L19 (-123.3333, 56.25) -> (-112.3333, 56.25)
  line L20 (-50.6667, 56.25) -> (-50.6667, 68.5)
  line L21 (-50.6667, 68.5) -> (-61.6667, 68.5)
  line L22 (-61.6667, 68.5) -> (-61.6667, 112.5)
  line L23 (-61.6667, 112.5) -> (-50.6667, 112.5)
  line L24 (-50.6667, 112.5) -> (-50.6667, 124.75)
  line L25 (-50.6667, 124.75) -> (-61.6667, 124.75)
  line L26 (-61.6667, 124.75) -> (-61.6667, 168.75)
  line L27 (-61.6667, 168.75) -> (-14.6667, 168.75)
  line L28 (-14.6667, 168.75) -> (-14.6667, 124.75)
  line L29 (-14.6667, 124.75) -> (-25.6667, 124.75)
  line L30 (-25.6667, 124.75) -> (-25.6667, 112.5)
  line L31 (-25.6667, 112.5) -> (-14.6667, 112.5)
  line L32 (-14.6667, 112.5) -> (-14.6667, 68.5)
  line L33 (-14.6667, 68.5) -> (-25.6667, 68.5)
  line L34 (-25.6667, 68.5) -> (-25.6667, 56.25)
  line L35 (-25.6667, 56.25) -> (-14.6667, 56.25)
  line L36 (-14.6667, 56.25) -> (-14.6667, 12.25)
  line L37 (-14.6667, 12.25) -> (-61.6667, 12.25)
  line L38 (-61.6667, 12.25) -> (-61.6667, 56.25)
  line L39 (-61.6667, 56.25) -> (-50.6667, 56.25)
  line L40 (0, 181) -> (-138, 181)
  line L41 (-138, 181) -> (-138, 0)
  line L42 (-138, 0) -> (0, 0)
  line L43 (0, 0) -> (0, 181)
  line L44 (0, 0) -> (-10, 0)
  line L45 (-10, 5) -> (-5, 5)
  line L46 (-5, 5) -> (-5, 10)
  line L47 (-5, 10) -> (0, 10)
  line L48 (0, 0) -> (0, 10)
  line L49 (-10, 0) -> (-10, 5)
  line L50 (-69, 0) -> (-69, 181)
  line L51 (0, 90.5) -> (-138, 90.5)
  line L52 (-138, 0) -> (-138, 10)
  line L53 (-133, 5) -> (-133, 10)
  line L54 (-128, 5) -> (-133, 5)
  line L55 (-128, 0) -> (-128, 5)
  line L56 (-138, 0) -> (-128, 0)
  line L57 (-133, 10) -> (-138, 10)
  line L58 (0, 181) -> (0, 171)
  line L59 (0, 181) -> (-10, 181)
  line L60 (-10, 181) -> (-10, 176)
  line L61 (-10, 176) -> (-5, 176)
  line L62 (-5, 176) -> (-5, 171)
  line L63 (-5, 171) -> (0, 171)
  line L64 (-128, 181) -> (-128, 176)
  line L65 (-138, 181) -> (-128, 181)
  line L66 (-138, 181) -> (-138, 171)
  line L67 (-133, 171) -> (-138, 171)
  line L68 (-133, 176) -> (-133, 171)
  line L69 (-128, 176) -> (-133, 176)
  point P0 (-138, 0)
extrude "Extrusion9" add sketch "Esquisse5" along normal blind 3 contours L40 L41 L64 L65 L66 L67 L68 L69 | L41 L42 L52 L53 L54 L55 L56 L57 | L42 L43 L44 L45 L46 L47 L48 L49 | L40 L43 L58 L59 L60 L61 L62 L63 bodies 1
chamfer "Chanfrein1" distance 1 angle 45 16 edges at (128, -2.5, 15) (130.5, -5, 15) (133, -7.5, 15) (135.5, -10, 15) (128, -178.5, 15) (130.5, -176, 15) (133, -173.5, 15) (135.5, -171, 15) (2.5, -171, 15) (5, -173.5, 15) (7.5, -176, 15) (10, -178.5, 15) (2.5, -10, 15) (5, -7.5, 15) (7.5, -5, 15) (10, -2.5, 15) on bodies 1
chamfer "Chanfrein2" distance 2 angle 45 40 edges at (14.6667, -34.25, 12) (61.6667, -34.25, 12) (56.1667, -56.25, 12) (50.6667, -62.375, 12) (56.1667, -68.5, 12) (61.6667, -90.5, 12) (25.6667, -62.375, 12) (20.1667, -56.25, 12) (38.1667, -12.25, 12) (20.1667, -68.5, 12) (14.6667, -90.5, 12) (20.1667, -112.5, 12) (25.6667, -118.625, 12) (20.1667, -124.75, 12) (14.6667, -146.75, 12) (38.1667, -168.75, 12) (61.6667, -146.75, 12) (56.1667, -124.75, 12) (50.6667, -118.625, 12) (56.1667, -112.5, 12) (76.3333, -90.5, 12) (87.3333, -118.625, 12) (81.8333, -112.5, 12) (81.8333, -124.75, 12) (76.3333, -146.75, 12) (99.8333, -168.75, 12) (123.3333, -146.75, 12) (117.8333, -124.75, 12) (112.3333, -118.625, 12) (117.8333, -112.5, 12) (123.3333, -90.5, 12) (117.8333, -68.5, 12) (112.3333, -62.375, 12) (117.8333, -56.25, 12) (123.3333, -34.25, 12) (99.8333, -12.25, 12) (76.3333, -34.25, 12) (81.8333, -56.25, 12) (87.3333, -62.375, 12) (81.8333, -68.5, 12) on bodies 1
equation "d7 = ( d2 - ( 3 * d3 ) ) / 4"
equation "d8 = ( d1 - ( 2 * d4 ) ) / 3"
equation "d9 = d7"
equation "d10 = d8"
equation "d21 = d8"
equation "d23 = d9"
equation "d24 = d23"
equation "d25 = d7"
equation "d26 = d7"
equation "d57 = ( d55 - d58 ) / 2"
equation "d59 = ( d60 - d56 ) / 2"
equation "d61 = d55"
equation "d62 = d56"
equation "d63 = d57"
equation "d64 = d59"
equation "d71 = d72 / 2"
equation "d74 = d73 / 2"
